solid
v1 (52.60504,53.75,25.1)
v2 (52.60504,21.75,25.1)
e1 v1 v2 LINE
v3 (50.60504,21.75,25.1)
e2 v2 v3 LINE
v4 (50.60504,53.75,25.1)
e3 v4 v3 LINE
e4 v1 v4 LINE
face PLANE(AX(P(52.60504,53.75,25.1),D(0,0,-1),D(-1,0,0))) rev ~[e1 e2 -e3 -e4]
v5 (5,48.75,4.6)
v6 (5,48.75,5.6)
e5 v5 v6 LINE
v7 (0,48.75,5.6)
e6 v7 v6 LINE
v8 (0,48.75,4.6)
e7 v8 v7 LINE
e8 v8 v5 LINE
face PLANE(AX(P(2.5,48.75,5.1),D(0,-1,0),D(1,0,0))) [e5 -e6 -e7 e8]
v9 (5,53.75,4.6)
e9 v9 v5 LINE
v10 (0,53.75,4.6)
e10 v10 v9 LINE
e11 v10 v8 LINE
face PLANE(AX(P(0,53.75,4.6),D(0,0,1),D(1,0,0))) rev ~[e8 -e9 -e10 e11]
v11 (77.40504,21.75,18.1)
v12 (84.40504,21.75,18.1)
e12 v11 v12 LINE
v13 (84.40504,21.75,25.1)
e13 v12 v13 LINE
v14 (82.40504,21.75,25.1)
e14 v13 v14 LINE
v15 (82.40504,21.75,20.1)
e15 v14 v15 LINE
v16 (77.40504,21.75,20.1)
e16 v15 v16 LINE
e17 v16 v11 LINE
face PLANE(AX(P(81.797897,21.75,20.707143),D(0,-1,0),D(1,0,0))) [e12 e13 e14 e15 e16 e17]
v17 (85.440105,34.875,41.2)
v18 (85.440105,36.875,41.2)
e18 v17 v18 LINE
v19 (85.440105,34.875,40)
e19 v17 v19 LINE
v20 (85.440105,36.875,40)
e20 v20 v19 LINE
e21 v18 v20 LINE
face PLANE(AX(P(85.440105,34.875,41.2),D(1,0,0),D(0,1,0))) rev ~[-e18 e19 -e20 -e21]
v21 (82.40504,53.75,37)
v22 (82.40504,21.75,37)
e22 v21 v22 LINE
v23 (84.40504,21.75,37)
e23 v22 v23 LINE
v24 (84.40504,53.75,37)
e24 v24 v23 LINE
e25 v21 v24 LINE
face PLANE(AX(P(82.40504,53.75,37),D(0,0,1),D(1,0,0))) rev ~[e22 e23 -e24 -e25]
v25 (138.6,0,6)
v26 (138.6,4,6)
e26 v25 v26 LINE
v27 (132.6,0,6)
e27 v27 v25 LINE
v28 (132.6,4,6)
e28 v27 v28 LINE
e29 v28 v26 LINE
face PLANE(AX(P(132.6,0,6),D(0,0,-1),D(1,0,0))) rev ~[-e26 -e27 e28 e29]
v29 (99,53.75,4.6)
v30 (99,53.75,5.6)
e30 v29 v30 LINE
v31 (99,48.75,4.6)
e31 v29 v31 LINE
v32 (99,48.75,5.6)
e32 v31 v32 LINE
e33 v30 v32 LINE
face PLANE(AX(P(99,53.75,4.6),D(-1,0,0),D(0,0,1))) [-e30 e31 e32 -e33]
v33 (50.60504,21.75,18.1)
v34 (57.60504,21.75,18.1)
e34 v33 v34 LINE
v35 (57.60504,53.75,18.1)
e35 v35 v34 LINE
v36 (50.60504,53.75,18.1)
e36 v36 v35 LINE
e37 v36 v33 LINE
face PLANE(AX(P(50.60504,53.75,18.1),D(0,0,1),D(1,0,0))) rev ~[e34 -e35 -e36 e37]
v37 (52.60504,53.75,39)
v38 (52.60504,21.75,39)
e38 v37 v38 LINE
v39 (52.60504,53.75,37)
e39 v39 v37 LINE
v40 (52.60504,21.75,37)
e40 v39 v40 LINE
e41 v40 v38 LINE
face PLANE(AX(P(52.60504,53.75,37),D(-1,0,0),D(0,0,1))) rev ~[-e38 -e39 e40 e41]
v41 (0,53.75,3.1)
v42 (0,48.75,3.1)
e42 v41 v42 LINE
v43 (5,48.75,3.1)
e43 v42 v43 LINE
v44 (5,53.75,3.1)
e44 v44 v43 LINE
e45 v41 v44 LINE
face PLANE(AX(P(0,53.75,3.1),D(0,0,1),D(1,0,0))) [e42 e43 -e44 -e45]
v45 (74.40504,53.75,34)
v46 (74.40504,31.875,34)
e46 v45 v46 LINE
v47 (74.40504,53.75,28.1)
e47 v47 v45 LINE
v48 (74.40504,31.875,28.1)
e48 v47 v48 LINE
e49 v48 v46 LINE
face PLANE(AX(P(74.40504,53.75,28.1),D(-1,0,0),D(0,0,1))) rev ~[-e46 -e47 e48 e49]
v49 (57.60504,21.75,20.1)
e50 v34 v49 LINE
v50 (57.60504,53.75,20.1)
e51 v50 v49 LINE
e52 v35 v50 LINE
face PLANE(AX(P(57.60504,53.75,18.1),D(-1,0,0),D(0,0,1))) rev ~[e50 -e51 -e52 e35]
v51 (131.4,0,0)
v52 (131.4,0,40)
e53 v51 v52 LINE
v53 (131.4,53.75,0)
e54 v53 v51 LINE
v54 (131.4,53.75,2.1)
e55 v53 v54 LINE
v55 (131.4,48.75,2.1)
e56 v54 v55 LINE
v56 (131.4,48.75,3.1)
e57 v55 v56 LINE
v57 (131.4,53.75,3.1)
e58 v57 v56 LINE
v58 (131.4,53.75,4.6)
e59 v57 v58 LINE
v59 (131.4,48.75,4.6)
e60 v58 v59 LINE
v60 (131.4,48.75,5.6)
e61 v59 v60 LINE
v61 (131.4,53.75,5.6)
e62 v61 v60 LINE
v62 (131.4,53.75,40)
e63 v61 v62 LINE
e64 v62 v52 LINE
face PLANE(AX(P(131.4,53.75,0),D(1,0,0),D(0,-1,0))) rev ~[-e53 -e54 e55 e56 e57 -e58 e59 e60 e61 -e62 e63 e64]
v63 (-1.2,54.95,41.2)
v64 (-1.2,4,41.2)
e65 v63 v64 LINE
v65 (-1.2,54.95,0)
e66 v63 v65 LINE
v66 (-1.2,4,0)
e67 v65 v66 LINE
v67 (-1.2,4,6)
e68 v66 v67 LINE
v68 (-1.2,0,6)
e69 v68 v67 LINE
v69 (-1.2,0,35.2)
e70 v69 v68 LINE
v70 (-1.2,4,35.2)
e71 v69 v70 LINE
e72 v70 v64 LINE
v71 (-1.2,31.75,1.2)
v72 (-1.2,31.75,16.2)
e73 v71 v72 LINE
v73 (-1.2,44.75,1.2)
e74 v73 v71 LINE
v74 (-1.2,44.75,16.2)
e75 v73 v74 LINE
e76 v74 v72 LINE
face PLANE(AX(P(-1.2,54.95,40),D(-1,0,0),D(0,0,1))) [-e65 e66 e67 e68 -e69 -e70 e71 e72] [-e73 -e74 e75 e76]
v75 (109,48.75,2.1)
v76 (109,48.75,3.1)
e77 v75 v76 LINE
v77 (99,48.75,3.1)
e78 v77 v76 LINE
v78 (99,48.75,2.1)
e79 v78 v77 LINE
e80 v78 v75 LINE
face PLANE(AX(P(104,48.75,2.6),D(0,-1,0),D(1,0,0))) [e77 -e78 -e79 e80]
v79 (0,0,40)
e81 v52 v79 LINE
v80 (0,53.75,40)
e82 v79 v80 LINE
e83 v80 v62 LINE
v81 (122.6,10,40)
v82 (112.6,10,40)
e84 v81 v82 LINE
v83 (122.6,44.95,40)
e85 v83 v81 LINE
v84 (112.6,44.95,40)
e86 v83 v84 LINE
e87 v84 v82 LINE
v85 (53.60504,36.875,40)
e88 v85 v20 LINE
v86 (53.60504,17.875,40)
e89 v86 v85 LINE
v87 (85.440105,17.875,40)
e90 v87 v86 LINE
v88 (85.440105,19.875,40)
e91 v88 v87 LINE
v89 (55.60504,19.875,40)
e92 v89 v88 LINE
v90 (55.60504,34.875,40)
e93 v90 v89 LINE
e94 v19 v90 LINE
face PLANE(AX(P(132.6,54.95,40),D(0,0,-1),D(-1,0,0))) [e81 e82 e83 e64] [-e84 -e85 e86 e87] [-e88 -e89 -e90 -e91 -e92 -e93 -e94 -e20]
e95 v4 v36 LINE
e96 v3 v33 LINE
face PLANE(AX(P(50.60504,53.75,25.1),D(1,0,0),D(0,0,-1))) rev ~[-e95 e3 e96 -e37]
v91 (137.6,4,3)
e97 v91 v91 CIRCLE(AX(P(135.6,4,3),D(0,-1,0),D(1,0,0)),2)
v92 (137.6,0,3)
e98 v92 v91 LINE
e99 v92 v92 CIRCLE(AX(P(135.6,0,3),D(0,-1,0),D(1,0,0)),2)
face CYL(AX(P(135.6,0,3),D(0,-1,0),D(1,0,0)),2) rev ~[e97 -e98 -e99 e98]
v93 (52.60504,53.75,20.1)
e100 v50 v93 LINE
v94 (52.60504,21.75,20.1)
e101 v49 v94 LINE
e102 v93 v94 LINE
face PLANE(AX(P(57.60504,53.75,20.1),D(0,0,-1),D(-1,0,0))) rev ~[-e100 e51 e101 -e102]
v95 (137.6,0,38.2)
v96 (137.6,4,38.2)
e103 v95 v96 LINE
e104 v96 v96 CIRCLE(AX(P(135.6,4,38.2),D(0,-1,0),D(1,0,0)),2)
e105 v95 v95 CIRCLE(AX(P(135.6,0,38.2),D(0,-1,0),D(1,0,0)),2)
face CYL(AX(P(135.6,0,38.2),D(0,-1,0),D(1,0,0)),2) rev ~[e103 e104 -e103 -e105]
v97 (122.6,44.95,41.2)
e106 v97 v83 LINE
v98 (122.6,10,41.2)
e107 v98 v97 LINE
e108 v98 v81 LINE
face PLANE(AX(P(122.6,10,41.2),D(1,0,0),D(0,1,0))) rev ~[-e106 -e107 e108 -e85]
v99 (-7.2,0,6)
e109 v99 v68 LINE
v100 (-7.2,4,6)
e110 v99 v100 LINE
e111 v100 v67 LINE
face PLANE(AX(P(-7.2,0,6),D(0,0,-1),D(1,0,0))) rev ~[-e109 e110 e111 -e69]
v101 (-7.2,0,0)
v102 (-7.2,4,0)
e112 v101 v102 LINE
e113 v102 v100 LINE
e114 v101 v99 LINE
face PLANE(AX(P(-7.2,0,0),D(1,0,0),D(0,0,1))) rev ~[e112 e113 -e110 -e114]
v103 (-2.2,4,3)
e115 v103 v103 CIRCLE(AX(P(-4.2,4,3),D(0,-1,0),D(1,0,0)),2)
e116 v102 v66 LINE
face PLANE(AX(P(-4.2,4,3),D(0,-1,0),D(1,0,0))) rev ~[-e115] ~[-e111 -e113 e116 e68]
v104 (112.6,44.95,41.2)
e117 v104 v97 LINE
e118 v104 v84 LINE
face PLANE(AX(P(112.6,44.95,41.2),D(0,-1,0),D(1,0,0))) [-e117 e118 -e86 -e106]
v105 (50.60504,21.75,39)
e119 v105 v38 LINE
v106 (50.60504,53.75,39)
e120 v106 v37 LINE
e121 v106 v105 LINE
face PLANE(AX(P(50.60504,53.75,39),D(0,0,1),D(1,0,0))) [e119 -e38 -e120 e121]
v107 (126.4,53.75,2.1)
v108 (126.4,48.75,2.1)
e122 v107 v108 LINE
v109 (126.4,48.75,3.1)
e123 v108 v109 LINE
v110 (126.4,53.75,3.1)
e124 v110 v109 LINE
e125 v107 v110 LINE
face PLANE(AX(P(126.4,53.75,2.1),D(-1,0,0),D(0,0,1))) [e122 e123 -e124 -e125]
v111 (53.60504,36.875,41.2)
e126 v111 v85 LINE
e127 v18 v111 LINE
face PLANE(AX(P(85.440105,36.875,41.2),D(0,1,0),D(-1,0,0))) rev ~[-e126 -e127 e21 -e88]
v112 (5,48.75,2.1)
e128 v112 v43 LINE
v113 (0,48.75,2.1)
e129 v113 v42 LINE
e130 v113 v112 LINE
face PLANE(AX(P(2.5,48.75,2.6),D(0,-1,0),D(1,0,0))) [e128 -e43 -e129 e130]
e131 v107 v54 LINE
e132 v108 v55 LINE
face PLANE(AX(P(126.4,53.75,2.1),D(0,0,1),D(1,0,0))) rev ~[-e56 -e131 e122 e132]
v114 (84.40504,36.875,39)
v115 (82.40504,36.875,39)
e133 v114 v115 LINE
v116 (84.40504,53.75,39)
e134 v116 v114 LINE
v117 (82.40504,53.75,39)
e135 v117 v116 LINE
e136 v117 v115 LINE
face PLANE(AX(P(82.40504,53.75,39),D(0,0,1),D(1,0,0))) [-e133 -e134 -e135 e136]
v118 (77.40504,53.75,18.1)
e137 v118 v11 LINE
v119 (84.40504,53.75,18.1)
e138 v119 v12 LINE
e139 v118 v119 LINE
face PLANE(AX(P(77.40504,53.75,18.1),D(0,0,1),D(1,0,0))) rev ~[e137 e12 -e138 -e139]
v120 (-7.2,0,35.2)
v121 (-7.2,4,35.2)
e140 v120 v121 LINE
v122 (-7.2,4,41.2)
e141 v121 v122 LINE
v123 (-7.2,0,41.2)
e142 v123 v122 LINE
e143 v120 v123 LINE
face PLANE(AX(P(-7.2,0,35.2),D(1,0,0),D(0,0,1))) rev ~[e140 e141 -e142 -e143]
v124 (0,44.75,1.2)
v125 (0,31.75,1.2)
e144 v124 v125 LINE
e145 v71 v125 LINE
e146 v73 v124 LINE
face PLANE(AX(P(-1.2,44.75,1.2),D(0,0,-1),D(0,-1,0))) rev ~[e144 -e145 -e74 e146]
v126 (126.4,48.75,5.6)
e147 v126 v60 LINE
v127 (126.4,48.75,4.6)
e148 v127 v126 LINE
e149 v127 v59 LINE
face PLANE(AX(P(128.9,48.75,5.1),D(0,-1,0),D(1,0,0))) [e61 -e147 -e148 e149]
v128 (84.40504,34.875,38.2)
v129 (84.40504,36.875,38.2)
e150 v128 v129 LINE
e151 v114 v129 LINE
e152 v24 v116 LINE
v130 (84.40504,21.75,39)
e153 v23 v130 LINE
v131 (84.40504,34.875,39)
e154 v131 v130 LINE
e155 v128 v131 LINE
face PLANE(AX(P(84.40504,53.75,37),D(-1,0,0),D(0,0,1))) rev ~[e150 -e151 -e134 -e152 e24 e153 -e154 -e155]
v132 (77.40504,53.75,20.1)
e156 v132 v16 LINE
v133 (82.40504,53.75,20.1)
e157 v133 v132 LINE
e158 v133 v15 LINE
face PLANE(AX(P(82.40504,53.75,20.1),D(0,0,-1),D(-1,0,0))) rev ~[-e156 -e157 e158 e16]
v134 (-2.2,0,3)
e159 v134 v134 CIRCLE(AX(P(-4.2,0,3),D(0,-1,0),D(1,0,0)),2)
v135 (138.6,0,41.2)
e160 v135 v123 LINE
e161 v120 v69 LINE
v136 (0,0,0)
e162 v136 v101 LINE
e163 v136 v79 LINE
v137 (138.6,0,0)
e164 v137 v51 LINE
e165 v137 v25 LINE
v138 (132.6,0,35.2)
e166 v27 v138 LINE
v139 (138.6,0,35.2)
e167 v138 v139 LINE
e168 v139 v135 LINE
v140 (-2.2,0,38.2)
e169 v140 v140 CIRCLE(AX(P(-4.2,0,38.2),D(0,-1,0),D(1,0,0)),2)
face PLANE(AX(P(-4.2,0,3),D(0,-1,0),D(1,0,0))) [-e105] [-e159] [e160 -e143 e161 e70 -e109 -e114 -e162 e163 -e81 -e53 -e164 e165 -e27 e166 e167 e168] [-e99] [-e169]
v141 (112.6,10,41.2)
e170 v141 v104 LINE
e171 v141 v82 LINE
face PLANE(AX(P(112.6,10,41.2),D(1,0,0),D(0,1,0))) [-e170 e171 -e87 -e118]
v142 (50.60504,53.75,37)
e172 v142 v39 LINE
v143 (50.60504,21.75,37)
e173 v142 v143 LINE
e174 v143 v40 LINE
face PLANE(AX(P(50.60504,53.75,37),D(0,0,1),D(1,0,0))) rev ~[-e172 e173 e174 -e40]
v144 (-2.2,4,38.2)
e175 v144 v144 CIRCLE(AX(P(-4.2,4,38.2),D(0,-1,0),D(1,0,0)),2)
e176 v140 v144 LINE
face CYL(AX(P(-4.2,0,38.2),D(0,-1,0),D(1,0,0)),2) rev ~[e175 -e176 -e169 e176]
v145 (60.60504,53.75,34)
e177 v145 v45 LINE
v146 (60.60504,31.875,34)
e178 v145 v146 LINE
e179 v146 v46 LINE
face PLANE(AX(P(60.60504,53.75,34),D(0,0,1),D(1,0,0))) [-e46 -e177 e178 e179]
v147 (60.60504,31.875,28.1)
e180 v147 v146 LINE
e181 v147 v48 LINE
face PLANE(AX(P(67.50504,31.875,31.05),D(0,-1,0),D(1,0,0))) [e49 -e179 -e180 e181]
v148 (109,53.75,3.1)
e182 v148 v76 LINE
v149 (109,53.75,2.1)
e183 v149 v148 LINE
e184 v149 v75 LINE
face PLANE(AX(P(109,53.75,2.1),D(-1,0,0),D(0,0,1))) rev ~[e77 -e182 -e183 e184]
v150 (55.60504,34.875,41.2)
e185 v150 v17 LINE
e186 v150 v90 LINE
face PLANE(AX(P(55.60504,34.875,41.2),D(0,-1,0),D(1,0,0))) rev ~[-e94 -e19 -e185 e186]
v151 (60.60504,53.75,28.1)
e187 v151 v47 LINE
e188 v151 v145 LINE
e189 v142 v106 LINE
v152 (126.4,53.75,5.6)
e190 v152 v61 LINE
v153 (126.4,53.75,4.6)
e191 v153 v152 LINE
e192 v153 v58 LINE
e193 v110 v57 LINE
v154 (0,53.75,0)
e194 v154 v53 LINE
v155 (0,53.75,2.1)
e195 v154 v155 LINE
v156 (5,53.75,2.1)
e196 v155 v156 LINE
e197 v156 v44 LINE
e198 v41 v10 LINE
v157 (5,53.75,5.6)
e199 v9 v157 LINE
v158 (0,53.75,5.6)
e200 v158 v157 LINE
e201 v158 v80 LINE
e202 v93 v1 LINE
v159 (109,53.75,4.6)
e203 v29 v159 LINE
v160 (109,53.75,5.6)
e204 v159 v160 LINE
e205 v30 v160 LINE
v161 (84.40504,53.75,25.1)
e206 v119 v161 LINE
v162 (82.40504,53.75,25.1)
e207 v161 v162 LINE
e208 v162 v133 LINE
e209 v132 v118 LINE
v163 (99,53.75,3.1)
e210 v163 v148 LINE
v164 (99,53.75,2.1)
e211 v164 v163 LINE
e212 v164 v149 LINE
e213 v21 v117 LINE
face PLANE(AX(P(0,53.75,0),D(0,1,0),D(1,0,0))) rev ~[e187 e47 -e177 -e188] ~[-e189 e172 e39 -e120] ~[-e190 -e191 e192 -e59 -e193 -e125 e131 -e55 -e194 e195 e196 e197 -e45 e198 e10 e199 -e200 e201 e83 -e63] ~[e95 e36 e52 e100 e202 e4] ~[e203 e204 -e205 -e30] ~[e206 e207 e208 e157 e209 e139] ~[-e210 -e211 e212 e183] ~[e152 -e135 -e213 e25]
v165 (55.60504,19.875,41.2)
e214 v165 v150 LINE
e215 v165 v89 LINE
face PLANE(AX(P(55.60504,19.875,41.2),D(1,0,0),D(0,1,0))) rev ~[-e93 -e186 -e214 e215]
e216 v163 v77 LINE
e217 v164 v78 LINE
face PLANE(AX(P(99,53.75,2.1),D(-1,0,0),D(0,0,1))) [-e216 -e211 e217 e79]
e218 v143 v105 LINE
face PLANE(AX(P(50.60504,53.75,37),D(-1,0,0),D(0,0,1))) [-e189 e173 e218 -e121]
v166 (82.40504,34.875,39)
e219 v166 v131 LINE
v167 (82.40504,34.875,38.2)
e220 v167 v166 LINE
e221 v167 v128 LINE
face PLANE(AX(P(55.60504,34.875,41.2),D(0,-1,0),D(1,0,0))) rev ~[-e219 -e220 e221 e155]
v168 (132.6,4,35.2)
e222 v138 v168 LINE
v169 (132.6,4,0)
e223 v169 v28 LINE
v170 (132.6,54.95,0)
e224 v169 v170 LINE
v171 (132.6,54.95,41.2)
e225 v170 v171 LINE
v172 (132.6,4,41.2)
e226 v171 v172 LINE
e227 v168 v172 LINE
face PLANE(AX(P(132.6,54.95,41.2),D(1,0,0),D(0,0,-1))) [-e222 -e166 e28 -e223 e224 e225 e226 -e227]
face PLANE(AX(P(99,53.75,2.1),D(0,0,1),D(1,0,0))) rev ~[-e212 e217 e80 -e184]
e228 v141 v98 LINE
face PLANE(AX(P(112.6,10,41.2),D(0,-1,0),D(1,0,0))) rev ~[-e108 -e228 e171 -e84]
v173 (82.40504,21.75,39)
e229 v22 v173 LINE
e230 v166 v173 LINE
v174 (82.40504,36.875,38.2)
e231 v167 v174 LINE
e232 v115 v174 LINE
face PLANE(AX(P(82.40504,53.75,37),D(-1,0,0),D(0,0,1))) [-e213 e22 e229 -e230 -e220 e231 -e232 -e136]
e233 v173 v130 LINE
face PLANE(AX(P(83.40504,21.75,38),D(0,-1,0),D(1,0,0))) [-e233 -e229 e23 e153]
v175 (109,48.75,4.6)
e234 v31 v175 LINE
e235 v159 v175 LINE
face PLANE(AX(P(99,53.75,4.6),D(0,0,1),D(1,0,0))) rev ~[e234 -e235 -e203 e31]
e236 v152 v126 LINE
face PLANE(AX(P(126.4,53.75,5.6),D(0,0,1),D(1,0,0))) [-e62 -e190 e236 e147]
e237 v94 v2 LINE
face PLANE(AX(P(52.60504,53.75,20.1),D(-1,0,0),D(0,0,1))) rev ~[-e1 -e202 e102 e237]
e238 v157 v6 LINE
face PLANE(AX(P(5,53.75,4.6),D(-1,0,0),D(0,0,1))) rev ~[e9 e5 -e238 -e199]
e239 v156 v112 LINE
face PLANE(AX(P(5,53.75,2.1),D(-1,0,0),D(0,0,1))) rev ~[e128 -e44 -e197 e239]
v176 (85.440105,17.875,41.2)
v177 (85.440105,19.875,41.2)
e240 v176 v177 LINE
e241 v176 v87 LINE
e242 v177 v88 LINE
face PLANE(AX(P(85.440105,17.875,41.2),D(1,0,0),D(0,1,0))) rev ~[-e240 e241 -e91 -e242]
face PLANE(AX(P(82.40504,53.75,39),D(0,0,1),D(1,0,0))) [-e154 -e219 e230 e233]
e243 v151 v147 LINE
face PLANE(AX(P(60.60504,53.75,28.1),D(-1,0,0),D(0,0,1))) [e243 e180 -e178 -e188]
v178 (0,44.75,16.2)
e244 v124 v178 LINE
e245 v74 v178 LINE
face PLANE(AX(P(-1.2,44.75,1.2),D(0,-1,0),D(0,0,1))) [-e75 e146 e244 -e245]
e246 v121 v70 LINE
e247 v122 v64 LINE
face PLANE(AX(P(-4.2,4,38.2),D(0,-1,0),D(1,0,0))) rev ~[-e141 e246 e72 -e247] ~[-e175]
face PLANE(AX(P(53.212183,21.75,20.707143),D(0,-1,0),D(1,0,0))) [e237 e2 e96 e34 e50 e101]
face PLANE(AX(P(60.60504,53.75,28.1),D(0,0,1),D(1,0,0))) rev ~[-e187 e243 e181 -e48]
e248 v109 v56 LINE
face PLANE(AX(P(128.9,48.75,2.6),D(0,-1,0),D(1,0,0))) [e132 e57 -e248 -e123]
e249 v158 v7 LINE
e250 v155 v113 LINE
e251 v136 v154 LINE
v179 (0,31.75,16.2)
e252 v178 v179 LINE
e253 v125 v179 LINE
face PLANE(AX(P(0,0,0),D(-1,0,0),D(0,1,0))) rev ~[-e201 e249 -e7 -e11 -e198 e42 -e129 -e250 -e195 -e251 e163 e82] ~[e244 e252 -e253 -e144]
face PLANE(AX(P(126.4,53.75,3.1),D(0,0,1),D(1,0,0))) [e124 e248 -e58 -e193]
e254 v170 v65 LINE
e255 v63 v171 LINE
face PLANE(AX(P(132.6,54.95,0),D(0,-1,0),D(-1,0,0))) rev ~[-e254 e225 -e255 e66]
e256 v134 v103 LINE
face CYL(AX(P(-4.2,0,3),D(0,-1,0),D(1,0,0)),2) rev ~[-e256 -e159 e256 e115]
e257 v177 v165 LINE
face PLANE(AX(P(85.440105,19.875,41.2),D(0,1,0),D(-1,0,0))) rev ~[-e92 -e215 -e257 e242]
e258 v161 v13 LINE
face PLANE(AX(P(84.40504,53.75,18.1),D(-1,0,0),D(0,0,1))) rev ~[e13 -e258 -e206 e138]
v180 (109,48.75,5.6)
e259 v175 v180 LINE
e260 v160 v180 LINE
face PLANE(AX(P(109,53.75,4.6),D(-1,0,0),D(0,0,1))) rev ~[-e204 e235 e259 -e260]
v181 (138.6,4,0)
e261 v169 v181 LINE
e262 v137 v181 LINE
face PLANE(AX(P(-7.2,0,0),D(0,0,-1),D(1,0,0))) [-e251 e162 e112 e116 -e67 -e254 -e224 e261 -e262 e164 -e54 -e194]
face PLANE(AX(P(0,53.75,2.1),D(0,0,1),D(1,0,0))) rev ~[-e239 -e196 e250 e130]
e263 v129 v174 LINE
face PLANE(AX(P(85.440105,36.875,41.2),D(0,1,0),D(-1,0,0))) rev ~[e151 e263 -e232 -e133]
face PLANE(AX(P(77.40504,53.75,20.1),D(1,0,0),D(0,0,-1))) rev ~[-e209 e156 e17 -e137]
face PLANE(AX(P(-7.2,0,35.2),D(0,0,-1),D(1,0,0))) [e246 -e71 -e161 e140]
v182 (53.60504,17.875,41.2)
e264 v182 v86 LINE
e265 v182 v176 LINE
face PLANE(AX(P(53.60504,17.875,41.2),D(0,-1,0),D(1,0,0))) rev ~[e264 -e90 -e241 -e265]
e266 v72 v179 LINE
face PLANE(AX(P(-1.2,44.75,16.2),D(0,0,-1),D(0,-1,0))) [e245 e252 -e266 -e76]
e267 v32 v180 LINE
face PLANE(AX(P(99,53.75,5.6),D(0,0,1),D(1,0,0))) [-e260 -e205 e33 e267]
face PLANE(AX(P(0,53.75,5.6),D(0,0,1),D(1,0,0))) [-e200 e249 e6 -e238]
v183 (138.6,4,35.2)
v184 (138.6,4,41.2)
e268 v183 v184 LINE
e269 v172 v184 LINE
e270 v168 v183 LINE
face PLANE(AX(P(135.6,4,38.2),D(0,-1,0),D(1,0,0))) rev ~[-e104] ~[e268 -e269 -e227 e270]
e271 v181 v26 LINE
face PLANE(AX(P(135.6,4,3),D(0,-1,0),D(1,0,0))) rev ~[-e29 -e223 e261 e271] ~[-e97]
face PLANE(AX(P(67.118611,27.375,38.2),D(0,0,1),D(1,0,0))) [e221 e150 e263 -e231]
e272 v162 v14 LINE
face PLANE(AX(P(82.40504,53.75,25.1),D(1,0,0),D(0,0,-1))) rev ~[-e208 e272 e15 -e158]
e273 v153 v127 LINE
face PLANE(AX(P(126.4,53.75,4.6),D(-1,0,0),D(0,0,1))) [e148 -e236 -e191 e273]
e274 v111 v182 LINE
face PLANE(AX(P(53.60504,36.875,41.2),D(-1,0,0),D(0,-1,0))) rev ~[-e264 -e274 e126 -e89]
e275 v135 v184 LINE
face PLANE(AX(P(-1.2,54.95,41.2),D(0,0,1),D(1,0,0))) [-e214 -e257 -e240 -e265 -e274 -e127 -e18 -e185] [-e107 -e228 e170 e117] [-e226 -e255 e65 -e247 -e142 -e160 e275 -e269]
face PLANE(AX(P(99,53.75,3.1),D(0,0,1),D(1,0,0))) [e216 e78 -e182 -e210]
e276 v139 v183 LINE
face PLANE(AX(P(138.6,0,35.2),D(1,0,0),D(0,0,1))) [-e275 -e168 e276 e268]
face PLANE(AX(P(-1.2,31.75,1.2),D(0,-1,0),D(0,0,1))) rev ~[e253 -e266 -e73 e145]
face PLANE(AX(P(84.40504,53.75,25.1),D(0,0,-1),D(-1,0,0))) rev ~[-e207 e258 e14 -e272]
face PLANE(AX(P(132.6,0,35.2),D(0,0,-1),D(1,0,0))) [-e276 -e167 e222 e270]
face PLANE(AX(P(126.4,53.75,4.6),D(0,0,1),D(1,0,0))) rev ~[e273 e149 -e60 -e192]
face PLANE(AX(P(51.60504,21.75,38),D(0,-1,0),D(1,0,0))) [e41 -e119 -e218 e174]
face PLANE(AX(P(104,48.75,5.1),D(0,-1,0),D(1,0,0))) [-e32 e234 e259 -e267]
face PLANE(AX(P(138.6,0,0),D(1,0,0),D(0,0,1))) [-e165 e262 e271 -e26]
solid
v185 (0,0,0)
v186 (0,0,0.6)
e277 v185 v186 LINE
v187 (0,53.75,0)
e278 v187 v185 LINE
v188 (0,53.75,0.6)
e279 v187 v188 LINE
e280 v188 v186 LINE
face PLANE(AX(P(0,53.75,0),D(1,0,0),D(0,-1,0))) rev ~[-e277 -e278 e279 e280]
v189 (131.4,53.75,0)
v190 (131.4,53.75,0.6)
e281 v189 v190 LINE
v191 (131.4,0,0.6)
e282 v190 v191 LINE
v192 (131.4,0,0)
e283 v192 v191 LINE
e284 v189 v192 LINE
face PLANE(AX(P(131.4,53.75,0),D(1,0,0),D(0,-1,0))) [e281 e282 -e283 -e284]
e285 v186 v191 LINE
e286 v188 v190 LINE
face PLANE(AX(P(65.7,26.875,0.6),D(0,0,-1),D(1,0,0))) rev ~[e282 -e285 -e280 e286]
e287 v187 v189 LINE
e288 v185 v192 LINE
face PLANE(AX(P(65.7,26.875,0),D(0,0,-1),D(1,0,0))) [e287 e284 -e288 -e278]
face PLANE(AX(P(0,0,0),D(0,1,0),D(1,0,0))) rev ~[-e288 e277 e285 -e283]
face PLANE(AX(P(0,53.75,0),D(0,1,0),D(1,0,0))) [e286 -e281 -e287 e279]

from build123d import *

# Parameters (mm, degrees)
F1_DEPTH  = 40
F2_W      = 131.4
F2_H      = 53.75
F3_DEPTH  = 0.6
F4_W      = 5
F4_H      = 1
F4_W_2    = 10
F5_DEPTH  = 5
F6_W      = 2
F6_H      = 2
F7_DEPTH  = 32
F8_W      = 13.8
F8_H      = 5.9
F9_DEPTH  = 21.875
F11_DEPTH = 54.95
F12_W     = 10
F12_H     = 34.95
F13_DEPTH = 3
F14_W     = 13
F14_H     = 15
F15_DEPTH = 25
F16_W     = 6
F16_H     = 6
F16_R     = 2
F17_DEPTH = 4


with BuildPart() as f1:
    # F0 (on Top) → F1 (new body)
    with BuildSketch(Plane.XY):
        Polygon((0, 0), (0, 53.75), (131.4, 53.75), (131.4, 0), (132.6, 0), (132.6, 53.75), (132.6, 54.95), (0, 54.95), (-1.2, 54.95), (-1.2, 0), align=None)
    extrude(amount=F1_DEPTH)

    # F4 (on face) → F5 (join)
    with BuildSketch(Plane.XZ.offset(-53.75)):
        with Locations((2.5, 2.6)):
            Rectangle(F4_W, F4_H)
        with Locations((2.5, 5.1)):
            Rectangle(F4_W, F4_H)
        with Locations((128.9, 2.6)):
            Rectangle(F4_W, F4_H)
        with Locations((128.9, 5.1)):
            Rectangle(F4_W, F4_H)
        with Locations((104, 2.6)):
            Rectangle(F4_W_2, F4_H)
        with Locations((104, 5.1)):
            Rectangle(F4_W_2, F4_H)
    extrude(amount=F5_DEPTH)

    # F6 (on face) → F7 (join)
    with BuildSketch(Plane.XZ.offset(-53.75)):
        Polygon((57.60504, 20.1), (52.60504, 20.1), (52.60504, 25.1), (50.60504, 25.1), (50.60504, 18.1), (57.60504, 18.1), align=None)
        Polygon((82.40504, 20.1), (77.40504, 20.1), (77.40504, 18.1), (84.40504, 18.1), (84.40504, 25.1), (82.40504, 25.1), align=None)
        with Locations((83.40504, 38)):
            Rectangle(F6_W, F6_H)
        with Locations((51.60504, 38)):
            Rectangle(F6_W, F6_H)
    extrude(amount=F7_DEPTH)

    # F8 (on face) → F9 (join)
    with BuildSketch(Plane.XZ.offset(-53.75)):
        with Locations((67.50504, 31.05)):
            Rectangle(F8_W, F8_H)
    extrude(amount=F9_DEPTH)

    # F10 (on face) → F11 (join, through all)
    with BuildSketch(Plane(origin=(0, 54.95, 0), x_dir=(-1, 0, 0), z_dir=(0, 1, 0))):
        Polygon((-132.6, 40), (-131.4, 40), (-127.4, 40), (1.2, 40), (1.2, 41.2), (-127.4, 41.2), (-132.6, 41.2), align=None)
    extrude(amount=-F11_DEPTH)

    # F12 (on face) → F13 (cut)
    with BuildSketch(Plane.XY.offset(41.2)):
        Polygon((85.440105, 34.875), (85.440105, 36.875), (53.60504, 36.875), (53.60504, 17.875), (85.440105, 17.875), (85.440105, 19.875), (55.60504, 19.875), (55.60504, 34.875), align=None)
        with Locations((117.6, 27.475)):
            Rectangle(F12_W, F12_H)
    extrude(amount=-F13_DEPTH, mode=Mode.SUBTRACT)

    # F14 (on face) → F15 (cut)
    with BuildSketch(Plane(origin=(-1.2, 0, 0), x_dir=(0, -1, 0), z_dir=(-1, 0, 0))):
        with Locations((-38.25, 8.7)):
            Rectangle(F14_W, F14_H)
    extrude(amount=-F15_DEPTH, mode=Mode.SUBTRACT)

    # F16 (on face) → F17 (join)
    with BuildSketch(Plane.XZ):
        with Locations((-4.2, 3)):
            Rectangle(F16_W, F16_H)
        with Locations((-4.2, 3)):
            Circle(F16_R, mode=Mode.SUBTRACT)
        with Locations((-4.2, 38.2)):
            Rectangle(F16_W, F16_H)
        with Locations((-4.2, 38.2)):
            Circle(F16_R, mode=Mode.SUBTRACT)
        with Locations((135.6, 38.2)):
            Rectangle(F16_W, F16_H)
        with Locations((135.6, 38.2)):
            Circle(F16_R, mode=Mode.SUBTRACT)
        with Locations((135.6, 3)):
            Rectangle(F16_W, F16_H)
        with Locations((135.6, 3)):
            Circle(F16_R, mode=Mode.SUBTRACT)
    extrude(amount=-F17_DEPTH)


with BuildPart() as f3:
    # F2 (on face) → F3 (new body)
    with BuildSketch(Plane(origin=(0, 0, 0), x_dir=(1, 0, 0), z_dir=(0, 0, -1))):
        with Locations((65.7, -26.875)):
            Rectangle(F2_W, F2_H)
    extrude(amount=-F3_DEPTH)


solid = Compound([f1.part, f3.part])
